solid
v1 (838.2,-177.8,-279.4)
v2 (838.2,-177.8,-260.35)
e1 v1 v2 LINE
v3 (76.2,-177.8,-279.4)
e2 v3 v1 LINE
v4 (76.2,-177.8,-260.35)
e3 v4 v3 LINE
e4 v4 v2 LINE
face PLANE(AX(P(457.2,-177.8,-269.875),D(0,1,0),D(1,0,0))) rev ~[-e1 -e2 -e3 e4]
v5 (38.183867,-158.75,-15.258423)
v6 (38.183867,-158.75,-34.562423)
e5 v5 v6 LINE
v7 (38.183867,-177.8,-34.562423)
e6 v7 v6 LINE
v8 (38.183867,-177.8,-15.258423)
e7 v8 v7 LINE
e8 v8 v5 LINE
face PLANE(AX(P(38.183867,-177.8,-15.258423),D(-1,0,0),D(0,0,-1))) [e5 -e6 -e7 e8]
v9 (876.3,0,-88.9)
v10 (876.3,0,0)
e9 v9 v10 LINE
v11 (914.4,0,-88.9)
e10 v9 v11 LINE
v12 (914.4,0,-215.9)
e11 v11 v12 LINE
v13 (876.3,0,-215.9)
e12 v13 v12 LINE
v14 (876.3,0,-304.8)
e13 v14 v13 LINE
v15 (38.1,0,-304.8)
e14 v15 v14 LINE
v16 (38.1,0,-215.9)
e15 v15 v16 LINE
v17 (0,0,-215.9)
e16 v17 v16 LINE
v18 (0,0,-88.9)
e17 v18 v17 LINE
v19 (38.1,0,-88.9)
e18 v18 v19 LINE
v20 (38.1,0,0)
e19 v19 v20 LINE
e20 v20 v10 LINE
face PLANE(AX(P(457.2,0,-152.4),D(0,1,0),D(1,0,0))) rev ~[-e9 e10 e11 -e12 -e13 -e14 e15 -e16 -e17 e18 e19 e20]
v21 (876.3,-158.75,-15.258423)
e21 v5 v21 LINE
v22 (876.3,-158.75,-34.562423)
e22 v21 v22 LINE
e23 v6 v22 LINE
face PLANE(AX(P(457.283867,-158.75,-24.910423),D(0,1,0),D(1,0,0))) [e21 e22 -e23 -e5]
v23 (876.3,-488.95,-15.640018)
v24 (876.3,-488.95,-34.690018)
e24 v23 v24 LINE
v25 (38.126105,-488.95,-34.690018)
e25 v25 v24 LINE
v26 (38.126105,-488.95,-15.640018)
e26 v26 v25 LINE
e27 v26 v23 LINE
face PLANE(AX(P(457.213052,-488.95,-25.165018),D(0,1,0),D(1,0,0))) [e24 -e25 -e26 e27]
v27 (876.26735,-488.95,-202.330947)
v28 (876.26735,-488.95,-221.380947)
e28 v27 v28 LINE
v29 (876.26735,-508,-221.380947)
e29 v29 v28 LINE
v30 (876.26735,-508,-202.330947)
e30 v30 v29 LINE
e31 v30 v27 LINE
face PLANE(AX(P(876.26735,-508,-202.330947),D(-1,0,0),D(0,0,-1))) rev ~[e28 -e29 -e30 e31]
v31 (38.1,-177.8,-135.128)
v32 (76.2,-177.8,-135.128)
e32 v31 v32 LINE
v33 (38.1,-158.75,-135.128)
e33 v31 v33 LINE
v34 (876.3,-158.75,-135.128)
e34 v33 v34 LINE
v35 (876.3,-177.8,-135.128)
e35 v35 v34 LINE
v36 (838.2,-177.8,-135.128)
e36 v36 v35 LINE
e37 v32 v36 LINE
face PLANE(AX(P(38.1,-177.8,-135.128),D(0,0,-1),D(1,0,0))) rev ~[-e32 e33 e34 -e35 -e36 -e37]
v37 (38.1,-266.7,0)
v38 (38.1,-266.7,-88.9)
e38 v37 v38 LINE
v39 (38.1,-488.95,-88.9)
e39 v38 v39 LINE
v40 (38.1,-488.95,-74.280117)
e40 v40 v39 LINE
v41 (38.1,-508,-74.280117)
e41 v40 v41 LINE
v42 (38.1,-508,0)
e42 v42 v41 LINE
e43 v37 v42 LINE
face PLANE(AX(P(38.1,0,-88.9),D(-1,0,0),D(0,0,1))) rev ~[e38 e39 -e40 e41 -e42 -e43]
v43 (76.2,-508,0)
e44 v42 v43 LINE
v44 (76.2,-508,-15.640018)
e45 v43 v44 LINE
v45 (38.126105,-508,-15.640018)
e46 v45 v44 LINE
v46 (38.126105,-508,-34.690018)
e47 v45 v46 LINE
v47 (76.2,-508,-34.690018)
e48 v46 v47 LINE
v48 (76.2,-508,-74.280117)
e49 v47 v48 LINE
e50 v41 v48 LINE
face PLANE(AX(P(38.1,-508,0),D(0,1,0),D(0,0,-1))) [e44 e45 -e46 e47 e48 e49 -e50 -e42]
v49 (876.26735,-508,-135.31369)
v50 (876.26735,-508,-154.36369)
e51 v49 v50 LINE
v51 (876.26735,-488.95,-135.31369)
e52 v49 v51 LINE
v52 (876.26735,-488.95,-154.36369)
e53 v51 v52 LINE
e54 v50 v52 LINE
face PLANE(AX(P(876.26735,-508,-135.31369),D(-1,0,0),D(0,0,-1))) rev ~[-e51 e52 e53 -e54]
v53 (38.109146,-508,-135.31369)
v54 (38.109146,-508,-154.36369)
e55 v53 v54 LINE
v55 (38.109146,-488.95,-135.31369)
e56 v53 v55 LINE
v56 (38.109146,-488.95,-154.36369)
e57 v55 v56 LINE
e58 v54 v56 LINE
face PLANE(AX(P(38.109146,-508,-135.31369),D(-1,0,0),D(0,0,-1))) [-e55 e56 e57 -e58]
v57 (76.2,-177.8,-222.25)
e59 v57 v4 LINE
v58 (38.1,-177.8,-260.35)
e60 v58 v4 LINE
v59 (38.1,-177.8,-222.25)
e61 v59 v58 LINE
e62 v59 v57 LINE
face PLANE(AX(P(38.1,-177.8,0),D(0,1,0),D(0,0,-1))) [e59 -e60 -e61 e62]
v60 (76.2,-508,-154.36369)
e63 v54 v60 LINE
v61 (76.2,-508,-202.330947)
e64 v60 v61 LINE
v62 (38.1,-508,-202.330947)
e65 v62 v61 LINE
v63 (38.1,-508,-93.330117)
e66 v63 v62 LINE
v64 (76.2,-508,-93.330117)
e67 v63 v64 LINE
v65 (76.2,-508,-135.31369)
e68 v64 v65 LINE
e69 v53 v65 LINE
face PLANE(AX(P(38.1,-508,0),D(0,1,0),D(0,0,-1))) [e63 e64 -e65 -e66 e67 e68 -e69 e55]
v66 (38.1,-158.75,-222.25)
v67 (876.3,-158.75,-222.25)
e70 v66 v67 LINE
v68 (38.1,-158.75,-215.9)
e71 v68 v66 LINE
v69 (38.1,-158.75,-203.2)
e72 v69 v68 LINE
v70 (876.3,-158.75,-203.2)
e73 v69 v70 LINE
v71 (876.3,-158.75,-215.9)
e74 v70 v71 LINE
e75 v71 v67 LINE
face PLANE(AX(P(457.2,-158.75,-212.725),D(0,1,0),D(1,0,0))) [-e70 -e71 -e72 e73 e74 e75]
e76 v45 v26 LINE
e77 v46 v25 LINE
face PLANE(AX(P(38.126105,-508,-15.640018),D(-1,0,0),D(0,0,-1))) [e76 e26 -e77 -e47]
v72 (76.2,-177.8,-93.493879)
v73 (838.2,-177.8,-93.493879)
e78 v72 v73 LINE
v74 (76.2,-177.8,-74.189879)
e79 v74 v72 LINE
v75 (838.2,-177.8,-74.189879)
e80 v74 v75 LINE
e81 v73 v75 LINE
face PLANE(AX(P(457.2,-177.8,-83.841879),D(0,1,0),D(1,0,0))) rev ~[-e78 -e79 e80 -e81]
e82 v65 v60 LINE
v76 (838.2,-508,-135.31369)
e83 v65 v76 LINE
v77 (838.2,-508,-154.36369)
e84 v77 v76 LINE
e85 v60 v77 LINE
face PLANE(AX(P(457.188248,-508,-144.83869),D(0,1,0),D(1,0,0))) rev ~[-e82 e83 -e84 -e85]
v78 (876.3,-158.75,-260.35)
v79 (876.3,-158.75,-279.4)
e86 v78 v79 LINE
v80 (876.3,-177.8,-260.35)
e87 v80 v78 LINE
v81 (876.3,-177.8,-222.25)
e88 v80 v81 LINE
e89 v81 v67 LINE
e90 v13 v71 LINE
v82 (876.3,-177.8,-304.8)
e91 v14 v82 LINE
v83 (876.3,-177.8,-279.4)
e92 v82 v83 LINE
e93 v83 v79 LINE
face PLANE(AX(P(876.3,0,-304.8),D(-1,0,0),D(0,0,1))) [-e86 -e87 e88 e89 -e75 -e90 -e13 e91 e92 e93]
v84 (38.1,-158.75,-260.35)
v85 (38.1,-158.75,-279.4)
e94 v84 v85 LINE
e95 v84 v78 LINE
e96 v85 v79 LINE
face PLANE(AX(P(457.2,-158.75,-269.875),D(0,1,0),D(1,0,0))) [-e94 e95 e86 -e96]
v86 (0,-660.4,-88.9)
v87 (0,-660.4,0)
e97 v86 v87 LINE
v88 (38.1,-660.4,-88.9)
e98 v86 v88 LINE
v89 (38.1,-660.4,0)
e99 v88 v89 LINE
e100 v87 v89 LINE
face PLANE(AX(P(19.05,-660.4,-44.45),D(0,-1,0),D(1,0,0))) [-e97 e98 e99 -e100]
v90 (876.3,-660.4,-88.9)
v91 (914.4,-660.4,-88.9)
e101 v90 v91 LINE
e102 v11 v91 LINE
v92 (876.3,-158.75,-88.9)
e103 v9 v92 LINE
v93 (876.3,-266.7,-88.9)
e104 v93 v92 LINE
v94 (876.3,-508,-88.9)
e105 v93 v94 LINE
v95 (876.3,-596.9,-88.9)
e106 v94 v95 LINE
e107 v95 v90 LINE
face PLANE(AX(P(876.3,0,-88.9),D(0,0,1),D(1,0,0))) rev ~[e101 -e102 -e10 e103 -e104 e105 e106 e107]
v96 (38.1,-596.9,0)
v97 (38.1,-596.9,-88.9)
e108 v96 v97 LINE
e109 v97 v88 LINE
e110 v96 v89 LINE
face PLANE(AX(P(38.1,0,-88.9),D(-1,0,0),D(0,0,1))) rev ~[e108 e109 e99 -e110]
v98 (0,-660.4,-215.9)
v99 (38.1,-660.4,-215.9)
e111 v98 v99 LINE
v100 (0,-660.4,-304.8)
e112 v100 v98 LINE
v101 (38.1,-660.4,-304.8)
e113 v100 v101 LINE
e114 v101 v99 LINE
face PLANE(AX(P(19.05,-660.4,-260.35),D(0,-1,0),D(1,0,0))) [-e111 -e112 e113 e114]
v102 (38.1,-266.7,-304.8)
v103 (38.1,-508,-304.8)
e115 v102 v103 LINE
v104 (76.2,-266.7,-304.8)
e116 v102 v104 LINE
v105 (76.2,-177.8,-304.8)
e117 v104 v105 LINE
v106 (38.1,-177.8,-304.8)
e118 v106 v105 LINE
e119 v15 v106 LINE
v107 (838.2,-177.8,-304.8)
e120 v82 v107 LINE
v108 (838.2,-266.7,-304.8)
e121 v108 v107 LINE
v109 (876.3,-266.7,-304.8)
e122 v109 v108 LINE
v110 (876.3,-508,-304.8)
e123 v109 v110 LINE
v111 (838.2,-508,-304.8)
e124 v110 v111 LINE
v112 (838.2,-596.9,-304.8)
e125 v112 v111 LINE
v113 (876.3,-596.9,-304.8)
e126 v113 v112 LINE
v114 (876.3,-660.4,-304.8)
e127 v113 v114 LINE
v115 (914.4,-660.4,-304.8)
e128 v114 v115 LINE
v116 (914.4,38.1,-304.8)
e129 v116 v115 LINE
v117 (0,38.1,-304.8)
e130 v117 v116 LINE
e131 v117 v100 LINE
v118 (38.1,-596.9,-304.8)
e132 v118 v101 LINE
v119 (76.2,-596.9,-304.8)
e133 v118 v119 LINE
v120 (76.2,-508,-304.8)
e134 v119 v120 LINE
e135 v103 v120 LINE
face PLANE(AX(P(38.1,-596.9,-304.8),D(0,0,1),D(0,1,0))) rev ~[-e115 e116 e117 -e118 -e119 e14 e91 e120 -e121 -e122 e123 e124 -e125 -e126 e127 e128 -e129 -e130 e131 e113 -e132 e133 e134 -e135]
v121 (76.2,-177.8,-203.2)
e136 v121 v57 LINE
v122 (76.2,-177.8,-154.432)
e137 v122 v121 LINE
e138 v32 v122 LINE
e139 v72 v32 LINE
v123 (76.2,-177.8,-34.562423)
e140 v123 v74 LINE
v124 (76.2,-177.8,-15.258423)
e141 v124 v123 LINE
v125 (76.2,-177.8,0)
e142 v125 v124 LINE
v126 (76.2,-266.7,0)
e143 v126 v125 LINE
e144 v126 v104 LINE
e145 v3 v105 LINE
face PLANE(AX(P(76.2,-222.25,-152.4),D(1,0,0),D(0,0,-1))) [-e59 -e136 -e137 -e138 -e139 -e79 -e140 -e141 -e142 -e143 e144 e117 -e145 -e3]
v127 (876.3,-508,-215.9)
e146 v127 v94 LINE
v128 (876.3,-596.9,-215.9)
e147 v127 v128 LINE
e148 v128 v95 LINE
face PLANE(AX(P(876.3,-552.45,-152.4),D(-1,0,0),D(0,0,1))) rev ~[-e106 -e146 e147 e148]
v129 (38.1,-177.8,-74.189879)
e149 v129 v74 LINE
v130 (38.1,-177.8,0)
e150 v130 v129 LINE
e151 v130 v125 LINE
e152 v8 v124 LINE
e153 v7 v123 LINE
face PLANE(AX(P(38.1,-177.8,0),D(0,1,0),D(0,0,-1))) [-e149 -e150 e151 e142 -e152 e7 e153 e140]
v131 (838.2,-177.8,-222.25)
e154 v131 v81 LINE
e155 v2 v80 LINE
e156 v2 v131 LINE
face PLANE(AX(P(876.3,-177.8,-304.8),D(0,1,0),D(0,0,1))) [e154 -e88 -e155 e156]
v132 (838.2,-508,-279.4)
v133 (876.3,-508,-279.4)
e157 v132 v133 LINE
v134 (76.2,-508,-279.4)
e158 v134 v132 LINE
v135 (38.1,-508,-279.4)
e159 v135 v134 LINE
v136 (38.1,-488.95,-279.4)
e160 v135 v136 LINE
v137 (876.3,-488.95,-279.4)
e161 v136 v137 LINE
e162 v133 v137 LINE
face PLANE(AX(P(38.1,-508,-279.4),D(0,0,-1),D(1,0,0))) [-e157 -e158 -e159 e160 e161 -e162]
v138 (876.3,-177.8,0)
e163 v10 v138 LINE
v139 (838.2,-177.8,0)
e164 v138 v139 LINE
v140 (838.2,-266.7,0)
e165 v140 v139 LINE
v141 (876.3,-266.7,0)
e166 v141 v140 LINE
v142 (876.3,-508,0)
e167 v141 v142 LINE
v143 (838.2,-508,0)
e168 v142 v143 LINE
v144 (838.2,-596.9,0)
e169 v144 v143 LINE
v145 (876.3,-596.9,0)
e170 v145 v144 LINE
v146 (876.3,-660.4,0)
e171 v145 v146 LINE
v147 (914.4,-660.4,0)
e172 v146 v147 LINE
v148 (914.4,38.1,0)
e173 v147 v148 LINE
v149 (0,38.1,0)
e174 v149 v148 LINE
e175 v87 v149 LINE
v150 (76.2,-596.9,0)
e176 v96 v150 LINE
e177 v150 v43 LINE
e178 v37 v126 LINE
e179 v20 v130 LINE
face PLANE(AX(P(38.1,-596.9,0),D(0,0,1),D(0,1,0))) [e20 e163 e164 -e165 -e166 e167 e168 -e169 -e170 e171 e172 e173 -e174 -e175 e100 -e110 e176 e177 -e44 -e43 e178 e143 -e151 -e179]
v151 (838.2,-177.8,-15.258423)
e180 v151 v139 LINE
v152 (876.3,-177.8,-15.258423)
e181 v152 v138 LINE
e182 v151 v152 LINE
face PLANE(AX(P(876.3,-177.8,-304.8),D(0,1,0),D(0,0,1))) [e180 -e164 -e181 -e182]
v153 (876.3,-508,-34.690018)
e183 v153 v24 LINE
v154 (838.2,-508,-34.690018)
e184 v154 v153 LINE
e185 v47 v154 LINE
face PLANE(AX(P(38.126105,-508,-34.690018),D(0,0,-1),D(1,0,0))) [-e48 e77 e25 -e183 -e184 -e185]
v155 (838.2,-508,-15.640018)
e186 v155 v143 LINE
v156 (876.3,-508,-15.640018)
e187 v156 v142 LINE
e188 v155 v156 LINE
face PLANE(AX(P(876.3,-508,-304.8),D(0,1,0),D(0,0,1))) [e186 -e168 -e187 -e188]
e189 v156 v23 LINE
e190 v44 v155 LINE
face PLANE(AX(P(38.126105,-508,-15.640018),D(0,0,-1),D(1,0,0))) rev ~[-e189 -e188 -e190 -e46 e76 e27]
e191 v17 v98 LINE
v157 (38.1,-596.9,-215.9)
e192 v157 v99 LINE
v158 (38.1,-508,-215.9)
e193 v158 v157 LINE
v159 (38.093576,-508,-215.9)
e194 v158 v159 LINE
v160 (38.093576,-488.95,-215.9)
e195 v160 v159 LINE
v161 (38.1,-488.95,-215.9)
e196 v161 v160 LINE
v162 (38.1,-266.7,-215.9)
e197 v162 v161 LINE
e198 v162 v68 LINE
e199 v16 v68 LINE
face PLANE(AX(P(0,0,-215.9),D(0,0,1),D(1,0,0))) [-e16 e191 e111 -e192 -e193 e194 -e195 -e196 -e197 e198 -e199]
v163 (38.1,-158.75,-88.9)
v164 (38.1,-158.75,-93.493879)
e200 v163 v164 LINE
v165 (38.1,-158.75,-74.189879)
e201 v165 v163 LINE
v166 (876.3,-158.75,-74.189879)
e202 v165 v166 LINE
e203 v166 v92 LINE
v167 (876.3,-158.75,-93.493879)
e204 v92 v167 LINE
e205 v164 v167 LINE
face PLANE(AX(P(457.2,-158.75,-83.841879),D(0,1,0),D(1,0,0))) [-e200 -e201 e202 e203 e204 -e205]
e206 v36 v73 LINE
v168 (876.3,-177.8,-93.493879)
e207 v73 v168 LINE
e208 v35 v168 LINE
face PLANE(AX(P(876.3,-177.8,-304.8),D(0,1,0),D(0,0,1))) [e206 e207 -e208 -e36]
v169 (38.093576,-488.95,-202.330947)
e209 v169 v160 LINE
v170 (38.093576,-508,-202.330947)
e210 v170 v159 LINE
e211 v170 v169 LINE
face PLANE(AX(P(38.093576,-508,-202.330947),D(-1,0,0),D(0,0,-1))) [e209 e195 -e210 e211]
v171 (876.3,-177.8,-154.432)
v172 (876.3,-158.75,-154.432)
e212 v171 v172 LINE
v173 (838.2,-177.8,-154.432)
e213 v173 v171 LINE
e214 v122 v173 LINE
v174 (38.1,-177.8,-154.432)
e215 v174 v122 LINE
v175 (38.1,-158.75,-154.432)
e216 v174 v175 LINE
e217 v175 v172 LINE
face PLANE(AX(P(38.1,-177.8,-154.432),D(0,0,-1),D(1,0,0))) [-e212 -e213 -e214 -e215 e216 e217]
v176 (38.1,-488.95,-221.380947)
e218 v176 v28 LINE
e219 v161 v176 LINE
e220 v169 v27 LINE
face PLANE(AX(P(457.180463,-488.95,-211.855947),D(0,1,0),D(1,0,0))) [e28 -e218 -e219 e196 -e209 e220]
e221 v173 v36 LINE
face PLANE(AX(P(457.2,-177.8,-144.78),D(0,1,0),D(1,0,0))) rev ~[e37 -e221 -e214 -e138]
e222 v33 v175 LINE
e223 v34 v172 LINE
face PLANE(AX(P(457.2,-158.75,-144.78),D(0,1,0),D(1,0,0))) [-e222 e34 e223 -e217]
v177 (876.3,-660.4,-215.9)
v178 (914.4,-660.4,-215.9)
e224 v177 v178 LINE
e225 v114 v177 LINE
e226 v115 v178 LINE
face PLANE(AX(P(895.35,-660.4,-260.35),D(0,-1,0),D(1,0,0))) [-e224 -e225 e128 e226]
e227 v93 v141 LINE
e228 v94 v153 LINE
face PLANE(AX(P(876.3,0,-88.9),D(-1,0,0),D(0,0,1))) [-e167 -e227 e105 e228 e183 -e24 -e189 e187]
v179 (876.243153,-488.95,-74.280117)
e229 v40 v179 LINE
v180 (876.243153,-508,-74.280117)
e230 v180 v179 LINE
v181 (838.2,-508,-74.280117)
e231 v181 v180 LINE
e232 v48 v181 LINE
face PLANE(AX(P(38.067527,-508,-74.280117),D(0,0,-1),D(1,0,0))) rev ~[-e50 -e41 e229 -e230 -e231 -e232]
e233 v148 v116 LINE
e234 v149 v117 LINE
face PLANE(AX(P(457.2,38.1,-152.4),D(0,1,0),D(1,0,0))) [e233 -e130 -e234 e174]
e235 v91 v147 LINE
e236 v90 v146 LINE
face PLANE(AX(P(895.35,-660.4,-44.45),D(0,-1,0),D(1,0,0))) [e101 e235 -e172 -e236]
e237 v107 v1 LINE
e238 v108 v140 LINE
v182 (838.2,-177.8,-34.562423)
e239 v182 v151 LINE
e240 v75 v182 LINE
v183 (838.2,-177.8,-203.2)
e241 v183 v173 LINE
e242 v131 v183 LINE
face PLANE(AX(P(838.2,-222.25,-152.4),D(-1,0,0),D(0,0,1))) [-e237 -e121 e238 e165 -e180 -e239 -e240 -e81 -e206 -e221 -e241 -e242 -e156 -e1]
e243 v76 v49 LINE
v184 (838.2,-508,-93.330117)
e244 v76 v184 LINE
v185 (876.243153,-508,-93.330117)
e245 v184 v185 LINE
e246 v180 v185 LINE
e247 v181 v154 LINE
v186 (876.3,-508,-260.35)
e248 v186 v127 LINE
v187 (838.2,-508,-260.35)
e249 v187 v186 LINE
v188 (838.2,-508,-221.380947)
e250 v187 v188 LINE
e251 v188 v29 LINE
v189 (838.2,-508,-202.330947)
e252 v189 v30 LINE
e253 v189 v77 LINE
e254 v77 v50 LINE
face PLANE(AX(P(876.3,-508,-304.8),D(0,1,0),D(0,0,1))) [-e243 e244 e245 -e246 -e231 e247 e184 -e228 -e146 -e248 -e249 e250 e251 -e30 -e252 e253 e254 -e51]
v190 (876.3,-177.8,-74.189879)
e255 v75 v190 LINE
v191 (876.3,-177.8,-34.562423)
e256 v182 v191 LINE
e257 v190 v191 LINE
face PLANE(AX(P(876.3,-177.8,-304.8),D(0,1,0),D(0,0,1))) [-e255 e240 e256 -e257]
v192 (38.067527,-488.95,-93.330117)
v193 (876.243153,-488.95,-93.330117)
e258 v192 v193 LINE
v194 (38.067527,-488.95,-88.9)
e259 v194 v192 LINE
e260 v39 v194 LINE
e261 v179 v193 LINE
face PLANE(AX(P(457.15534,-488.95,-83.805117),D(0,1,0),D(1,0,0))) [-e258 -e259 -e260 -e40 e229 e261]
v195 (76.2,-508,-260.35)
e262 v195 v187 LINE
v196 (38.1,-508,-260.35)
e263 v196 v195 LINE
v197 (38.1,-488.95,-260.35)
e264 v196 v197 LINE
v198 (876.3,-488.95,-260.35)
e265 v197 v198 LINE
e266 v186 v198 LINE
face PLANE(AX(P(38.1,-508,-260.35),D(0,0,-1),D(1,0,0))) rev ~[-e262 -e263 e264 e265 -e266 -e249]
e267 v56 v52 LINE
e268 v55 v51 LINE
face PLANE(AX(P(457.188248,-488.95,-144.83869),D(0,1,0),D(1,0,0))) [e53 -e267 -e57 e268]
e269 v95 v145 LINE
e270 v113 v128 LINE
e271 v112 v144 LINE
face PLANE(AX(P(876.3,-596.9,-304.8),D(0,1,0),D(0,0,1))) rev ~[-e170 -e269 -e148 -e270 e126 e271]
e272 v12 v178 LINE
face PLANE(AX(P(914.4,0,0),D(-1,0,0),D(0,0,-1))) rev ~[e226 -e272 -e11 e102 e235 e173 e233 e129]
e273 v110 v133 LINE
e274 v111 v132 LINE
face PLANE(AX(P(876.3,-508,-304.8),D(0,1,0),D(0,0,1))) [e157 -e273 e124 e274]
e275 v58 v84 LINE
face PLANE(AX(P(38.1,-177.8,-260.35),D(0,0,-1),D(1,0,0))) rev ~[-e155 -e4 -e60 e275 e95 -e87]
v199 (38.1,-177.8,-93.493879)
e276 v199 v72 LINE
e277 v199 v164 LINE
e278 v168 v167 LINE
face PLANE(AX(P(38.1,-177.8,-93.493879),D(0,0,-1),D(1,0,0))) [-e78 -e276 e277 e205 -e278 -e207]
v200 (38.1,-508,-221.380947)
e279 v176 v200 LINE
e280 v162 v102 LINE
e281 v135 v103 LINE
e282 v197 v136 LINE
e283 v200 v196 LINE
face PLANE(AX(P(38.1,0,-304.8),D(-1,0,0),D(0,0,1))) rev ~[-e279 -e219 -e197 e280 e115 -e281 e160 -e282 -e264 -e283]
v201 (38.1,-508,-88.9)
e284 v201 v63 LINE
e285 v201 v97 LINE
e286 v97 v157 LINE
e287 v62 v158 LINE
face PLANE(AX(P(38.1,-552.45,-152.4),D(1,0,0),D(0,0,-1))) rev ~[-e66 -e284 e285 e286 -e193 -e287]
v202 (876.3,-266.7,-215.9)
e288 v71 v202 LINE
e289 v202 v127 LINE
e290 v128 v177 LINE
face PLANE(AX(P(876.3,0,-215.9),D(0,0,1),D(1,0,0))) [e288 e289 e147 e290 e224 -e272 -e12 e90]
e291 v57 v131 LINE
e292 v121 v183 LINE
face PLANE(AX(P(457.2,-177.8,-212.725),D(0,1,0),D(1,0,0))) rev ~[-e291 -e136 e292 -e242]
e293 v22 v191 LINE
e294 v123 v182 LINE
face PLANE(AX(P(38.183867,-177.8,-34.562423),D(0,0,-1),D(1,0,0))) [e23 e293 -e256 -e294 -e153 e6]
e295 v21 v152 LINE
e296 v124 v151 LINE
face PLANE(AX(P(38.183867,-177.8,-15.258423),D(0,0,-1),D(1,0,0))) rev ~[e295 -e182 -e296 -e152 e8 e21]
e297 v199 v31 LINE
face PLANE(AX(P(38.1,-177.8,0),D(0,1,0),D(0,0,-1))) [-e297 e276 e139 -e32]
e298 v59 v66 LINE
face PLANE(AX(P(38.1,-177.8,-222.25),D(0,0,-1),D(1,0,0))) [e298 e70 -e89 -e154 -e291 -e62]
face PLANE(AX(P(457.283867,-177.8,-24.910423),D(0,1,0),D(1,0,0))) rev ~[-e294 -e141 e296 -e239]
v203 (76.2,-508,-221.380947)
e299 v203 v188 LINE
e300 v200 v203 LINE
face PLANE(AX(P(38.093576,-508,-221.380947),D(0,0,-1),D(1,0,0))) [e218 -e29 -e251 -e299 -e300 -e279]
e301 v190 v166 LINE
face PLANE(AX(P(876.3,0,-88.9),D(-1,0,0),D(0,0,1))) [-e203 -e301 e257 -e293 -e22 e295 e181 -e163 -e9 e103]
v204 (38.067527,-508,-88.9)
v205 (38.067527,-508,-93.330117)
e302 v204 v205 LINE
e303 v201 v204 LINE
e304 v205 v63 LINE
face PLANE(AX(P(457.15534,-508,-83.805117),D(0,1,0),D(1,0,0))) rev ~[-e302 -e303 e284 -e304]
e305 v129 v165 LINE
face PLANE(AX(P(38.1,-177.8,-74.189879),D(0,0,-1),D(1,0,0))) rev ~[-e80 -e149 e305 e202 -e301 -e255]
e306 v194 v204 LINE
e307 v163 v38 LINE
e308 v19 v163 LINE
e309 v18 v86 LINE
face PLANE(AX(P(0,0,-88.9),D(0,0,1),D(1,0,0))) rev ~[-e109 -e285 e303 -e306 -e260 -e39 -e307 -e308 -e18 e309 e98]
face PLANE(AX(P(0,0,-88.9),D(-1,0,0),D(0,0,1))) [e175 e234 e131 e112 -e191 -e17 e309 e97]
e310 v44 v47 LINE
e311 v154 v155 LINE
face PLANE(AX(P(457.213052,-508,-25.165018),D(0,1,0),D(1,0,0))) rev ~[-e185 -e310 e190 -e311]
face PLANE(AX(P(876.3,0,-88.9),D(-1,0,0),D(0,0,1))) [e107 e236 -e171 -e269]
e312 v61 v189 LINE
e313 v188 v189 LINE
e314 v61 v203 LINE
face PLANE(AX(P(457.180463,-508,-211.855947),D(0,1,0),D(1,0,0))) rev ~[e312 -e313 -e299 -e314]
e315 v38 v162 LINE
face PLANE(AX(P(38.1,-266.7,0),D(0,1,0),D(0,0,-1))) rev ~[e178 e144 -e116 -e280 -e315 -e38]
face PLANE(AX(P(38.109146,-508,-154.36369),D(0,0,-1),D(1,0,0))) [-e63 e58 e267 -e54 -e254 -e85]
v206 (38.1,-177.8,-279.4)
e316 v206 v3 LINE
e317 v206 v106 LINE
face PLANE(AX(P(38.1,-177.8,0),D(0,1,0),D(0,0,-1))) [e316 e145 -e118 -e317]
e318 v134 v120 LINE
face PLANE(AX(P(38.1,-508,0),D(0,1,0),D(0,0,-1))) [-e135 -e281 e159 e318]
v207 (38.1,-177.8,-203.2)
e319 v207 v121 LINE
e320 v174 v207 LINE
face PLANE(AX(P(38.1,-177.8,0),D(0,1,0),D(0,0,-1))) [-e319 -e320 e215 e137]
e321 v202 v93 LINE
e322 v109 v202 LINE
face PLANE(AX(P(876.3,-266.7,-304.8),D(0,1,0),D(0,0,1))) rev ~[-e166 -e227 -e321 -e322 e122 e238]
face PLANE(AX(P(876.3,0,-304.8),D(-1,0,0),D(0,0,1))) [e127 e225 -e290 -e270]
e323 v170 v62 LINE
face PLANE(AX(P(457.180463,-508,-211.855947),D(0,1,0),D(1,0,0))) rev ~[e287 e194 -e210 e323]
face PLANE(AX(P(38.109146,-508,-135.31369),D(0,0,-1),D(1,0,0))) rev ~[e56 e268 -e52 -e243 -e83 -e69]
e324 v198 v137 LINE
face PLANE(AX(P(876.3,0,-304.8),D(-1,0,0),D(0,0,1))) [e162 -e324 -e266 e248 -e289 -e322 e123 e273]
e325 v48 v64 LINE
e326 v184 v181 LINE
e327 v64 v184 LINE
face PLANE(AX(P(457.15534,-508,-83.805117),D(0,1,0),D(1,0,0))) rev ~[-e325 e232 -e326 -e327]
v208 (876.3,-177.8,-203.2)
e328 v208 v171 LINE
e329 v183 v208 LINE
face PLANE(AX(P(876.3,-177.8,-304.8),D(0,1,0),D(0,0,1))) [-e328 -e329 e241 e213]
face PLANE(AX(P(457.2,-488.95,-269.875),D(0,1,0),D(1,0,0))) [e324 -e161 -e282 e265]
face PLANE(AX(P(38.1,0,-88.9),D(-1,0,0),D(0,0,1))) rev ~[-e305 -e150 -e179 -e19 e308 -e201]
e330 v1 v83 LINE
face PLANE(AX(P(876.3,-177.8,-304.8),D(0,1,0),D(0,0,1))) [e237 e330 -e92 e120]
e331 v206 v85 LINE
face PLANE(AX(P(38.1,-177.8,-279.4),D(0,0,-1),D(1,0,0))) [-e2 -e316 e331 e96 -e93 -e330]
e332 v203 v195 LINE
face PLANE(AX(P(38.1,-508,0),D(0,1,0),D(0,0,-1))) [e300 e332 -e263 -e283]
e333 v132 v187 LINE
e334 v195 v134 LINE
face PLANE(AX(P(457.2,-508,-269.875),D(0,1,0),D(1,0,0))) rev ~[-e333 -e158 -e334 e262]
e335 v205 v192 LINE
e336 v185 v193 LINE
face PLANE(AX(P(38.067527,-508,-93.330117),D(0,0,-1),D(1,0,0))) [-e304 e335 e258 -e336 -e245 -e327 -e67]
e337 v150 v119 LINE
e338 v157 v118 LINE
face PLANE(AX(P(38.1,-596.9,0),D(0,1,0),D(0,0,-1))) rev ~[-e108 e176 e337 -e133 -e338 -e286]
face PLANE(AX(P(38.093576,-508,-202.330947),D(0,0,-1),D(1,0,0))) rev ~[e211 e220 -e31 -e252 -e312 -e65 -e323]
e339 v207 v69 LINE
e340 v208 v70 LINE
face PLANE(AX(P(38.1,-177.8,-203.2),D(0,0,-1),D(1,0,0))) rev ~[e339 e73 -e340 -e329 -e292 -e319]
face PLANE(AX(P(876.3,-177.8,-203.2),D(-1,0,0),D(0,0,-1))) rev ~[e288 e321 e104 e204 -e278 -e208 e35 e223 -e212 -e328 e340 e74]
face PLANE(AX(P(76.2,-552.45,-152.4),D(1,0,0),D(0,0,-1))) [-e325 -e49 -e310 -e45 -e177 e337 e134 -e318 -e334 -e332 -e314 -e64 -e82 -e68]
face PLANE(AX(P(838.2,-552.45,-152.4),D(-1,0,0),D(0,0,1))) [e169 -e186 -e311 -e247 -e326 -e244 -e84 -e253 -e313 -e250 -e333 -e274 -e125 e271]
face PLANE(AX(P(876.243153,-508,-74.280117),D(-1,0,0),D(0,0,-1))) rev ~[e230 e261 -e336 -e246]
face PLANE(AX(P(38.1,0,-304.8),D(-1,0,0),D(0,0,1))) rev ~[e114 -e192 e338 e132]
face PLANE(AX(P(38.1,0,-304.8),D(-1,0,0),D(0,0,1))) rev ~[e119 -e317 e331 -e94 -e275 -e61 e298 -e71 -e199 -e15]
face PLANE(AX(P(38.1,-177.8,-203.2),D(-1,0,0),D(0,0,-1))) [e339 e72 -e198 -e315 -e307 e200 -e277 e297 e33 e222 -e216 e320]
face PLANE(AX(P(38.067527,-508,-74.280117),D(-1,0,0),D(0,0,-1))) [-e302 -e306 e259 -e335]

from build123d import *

# Parameters (mm, degrees)
SKETCH1_W            = 914.4
SKETCH1_H            = 304.8
BOSS_EXTRUDE3_DEPTH  = 38.1
SKETCH5_W            = 38.1
SKETCH5_H            = 88.9
BOSS_EXTRUDE4_DEPTH  = 660.4
SKETCH7_W            = 304.8
SKETCH7_H            = 88.9
BOSS_EXTRUDE5_DEPTH  = 38.1
SKETCH6_W            = 304.8
SKETCH6_H            = 88.9
BOSS_EXTRUDE6_DEPTH  = 38.1
SKETCH9_W            = 304.8
SKETCH9_H            = 88.9
BOSS_EXTRUDE7_DEPTH  = 38.1
SKETCH8_W            = 304.8
SKETCH8_H            = 88.9
BOSS_EXTRUDE8_DEPTH  = 38.1
SKETCH10_W           = 838.2
SKETCH10_H           = 19.05
SKETCH10_W_2         = 838.173774045
SKETCH10_W_3         = 838.158204612
SKETCH10_W_4         = 838.175626617
SKETCH10_W_5         = 838.17389523
BOSS_EXTRUDE9_DEPTH  = 19.05
SKETCH11_W           = 838.2
SKETCH11_H           = 19.05
SKETCH11_H_2         = 19.304
BOSS_EXTRUDE10_DEPTH = 19.05


with BuildPart() as part:
    # Sketch1 → Boss-Extrude3 (new body)
    with BuildSketch(Plane(origin=(0, 0, 0), x_dir=(1, 0, 0), z_dir=(0, 1, 0))):
        with Locations((457.2, 152.4)):
            Rectangle(SKETCH1_W, SKETCH1_H)
    extrude(amount=BOSS_EXTRUDE3_DEPTH)

    # Sketch5 → Boss-Extrude4 (add)
    with BuildSketch(Plane.XZ):
        with Locations((19.05, -44.45)):
            Rectangle(SKETCH5_W, SKETCH5_H)
        with Locations((19.05, -260.35)):
            Rectangle(SKETCH5_W, SKETCH5_H)
        with Locations((895.35, -44.45)):
            Rectangle(SKETCH5_W, SKETCH5_H)
        with Locations((895.35, -260.35)):
            Rectangle(SKETCH5_W, SKETCH5_H)
    extrude(amount=BOSS_EXTRUDE4_DEPTH)

    # Sketch7 → Boss-Extrude5 (add)
    with BuildSketch(Plane(origin=(38.1, 0, 0), x_dir=(0, 0, -1), z_dir=(1, 0, 0))):
        with Locations((152.4, -222.25)):
            Rectangle(SKETCH7_W, SKETCH7_H)
    extrude(amount=BOSS_EXTRUDE5_DEPTH)

    # Sketch6 → Boss-Extrude6 (add)
    with BuildSketch(Plane.ZY.offset(-876.3)):
        with Locations((-152.4, -222.25)):
            Rectangle(SKETCH6_W, SKETCH6_H)
    extrude(amount=BOSS_EXTRUDE6_DEPTH)

    # Sketch9 → Boss-Extrude7 (add)
    with BuildSketch(Plane.ZY.offset(-876.3)):
        with Locations((-152.4, -552.45)):
            Rectangle(SKETCH9_W, SKETCH9_H)
    extrude(amount=BOSS_EXTRUDE7_DEPTH)

    # Sketch8 → Boss-Extrude8 (add)
    with BuildSketch(Plane(origin=(38.1, 0, 0), x_dir=(0, 0, -1), z_dir=(1, 0, 0))):
        with Locations((152.4, -552.45)):
            Rectangle(SKETCH8_W, SKETCH8_H)
    extrude(amount=BOSS_EXTRUDE8_DEPTH)

    # Sketch10 → Boss-Extrude9 (add)
    with BuildSketch(Plane(origin=(0, -508, 0), x_dir=(1, 0, 0), z_dir=(0, 1, 0))):
        with Locations((457.2, 269.875)):
            Rectangle(SKETCH10_W, SKETCH10_H)
        with Locations((457.180463347, 211.855946701)):
            Rectangle(SKETCH10_W_2, SKETCH10_H)
        with Locations((457.188248064, 144.838690295)):
            Rectangle(SKETCH10_W_3, SKETCH10_H)
        with Locations((457.155340061, 83.805117496)):
            Rectangle(SKETCH10_W_4, SKETCH10_H)
        with Locations((457.213052385, 25.16501814)):
            Rectangle(SKETCH10_W_5, SKETCH10_H)
    extrude(amount=BOSS_EXTRUDE9_DEPTH)

    # Sketch11 → Boss-Extrude10 (add)
    with BuildSketch(Plane(origin=(0, -177.8, 0), x_dir=(1, 0, 0), z_dir=(0, 1, 0))):
        with Locations((457.2, 269.875)):
            Rectangle(SKETCH11_W, SKETCH11_H)
        with Locations((457.2, 212.725)):
            Rectangle(SKETCH11_W, SKETCH11_H)
        with Locations((457.2, 144.78)):
            Rectangle(SKETCH11_W, SKETCH11_H_2)
        with Locations((457.2, 83.841878729)):
            Rectangle(SKETCH11_W, SKETCH11_H_2)
        with Locations((457.283867399, 24.910423168)):
            Rectangle(SKETCH11_W, SKETCH11_H_2)
    extrude(amount=BOSS_EXTRUDE10_DEPTH)


solid = part.part
